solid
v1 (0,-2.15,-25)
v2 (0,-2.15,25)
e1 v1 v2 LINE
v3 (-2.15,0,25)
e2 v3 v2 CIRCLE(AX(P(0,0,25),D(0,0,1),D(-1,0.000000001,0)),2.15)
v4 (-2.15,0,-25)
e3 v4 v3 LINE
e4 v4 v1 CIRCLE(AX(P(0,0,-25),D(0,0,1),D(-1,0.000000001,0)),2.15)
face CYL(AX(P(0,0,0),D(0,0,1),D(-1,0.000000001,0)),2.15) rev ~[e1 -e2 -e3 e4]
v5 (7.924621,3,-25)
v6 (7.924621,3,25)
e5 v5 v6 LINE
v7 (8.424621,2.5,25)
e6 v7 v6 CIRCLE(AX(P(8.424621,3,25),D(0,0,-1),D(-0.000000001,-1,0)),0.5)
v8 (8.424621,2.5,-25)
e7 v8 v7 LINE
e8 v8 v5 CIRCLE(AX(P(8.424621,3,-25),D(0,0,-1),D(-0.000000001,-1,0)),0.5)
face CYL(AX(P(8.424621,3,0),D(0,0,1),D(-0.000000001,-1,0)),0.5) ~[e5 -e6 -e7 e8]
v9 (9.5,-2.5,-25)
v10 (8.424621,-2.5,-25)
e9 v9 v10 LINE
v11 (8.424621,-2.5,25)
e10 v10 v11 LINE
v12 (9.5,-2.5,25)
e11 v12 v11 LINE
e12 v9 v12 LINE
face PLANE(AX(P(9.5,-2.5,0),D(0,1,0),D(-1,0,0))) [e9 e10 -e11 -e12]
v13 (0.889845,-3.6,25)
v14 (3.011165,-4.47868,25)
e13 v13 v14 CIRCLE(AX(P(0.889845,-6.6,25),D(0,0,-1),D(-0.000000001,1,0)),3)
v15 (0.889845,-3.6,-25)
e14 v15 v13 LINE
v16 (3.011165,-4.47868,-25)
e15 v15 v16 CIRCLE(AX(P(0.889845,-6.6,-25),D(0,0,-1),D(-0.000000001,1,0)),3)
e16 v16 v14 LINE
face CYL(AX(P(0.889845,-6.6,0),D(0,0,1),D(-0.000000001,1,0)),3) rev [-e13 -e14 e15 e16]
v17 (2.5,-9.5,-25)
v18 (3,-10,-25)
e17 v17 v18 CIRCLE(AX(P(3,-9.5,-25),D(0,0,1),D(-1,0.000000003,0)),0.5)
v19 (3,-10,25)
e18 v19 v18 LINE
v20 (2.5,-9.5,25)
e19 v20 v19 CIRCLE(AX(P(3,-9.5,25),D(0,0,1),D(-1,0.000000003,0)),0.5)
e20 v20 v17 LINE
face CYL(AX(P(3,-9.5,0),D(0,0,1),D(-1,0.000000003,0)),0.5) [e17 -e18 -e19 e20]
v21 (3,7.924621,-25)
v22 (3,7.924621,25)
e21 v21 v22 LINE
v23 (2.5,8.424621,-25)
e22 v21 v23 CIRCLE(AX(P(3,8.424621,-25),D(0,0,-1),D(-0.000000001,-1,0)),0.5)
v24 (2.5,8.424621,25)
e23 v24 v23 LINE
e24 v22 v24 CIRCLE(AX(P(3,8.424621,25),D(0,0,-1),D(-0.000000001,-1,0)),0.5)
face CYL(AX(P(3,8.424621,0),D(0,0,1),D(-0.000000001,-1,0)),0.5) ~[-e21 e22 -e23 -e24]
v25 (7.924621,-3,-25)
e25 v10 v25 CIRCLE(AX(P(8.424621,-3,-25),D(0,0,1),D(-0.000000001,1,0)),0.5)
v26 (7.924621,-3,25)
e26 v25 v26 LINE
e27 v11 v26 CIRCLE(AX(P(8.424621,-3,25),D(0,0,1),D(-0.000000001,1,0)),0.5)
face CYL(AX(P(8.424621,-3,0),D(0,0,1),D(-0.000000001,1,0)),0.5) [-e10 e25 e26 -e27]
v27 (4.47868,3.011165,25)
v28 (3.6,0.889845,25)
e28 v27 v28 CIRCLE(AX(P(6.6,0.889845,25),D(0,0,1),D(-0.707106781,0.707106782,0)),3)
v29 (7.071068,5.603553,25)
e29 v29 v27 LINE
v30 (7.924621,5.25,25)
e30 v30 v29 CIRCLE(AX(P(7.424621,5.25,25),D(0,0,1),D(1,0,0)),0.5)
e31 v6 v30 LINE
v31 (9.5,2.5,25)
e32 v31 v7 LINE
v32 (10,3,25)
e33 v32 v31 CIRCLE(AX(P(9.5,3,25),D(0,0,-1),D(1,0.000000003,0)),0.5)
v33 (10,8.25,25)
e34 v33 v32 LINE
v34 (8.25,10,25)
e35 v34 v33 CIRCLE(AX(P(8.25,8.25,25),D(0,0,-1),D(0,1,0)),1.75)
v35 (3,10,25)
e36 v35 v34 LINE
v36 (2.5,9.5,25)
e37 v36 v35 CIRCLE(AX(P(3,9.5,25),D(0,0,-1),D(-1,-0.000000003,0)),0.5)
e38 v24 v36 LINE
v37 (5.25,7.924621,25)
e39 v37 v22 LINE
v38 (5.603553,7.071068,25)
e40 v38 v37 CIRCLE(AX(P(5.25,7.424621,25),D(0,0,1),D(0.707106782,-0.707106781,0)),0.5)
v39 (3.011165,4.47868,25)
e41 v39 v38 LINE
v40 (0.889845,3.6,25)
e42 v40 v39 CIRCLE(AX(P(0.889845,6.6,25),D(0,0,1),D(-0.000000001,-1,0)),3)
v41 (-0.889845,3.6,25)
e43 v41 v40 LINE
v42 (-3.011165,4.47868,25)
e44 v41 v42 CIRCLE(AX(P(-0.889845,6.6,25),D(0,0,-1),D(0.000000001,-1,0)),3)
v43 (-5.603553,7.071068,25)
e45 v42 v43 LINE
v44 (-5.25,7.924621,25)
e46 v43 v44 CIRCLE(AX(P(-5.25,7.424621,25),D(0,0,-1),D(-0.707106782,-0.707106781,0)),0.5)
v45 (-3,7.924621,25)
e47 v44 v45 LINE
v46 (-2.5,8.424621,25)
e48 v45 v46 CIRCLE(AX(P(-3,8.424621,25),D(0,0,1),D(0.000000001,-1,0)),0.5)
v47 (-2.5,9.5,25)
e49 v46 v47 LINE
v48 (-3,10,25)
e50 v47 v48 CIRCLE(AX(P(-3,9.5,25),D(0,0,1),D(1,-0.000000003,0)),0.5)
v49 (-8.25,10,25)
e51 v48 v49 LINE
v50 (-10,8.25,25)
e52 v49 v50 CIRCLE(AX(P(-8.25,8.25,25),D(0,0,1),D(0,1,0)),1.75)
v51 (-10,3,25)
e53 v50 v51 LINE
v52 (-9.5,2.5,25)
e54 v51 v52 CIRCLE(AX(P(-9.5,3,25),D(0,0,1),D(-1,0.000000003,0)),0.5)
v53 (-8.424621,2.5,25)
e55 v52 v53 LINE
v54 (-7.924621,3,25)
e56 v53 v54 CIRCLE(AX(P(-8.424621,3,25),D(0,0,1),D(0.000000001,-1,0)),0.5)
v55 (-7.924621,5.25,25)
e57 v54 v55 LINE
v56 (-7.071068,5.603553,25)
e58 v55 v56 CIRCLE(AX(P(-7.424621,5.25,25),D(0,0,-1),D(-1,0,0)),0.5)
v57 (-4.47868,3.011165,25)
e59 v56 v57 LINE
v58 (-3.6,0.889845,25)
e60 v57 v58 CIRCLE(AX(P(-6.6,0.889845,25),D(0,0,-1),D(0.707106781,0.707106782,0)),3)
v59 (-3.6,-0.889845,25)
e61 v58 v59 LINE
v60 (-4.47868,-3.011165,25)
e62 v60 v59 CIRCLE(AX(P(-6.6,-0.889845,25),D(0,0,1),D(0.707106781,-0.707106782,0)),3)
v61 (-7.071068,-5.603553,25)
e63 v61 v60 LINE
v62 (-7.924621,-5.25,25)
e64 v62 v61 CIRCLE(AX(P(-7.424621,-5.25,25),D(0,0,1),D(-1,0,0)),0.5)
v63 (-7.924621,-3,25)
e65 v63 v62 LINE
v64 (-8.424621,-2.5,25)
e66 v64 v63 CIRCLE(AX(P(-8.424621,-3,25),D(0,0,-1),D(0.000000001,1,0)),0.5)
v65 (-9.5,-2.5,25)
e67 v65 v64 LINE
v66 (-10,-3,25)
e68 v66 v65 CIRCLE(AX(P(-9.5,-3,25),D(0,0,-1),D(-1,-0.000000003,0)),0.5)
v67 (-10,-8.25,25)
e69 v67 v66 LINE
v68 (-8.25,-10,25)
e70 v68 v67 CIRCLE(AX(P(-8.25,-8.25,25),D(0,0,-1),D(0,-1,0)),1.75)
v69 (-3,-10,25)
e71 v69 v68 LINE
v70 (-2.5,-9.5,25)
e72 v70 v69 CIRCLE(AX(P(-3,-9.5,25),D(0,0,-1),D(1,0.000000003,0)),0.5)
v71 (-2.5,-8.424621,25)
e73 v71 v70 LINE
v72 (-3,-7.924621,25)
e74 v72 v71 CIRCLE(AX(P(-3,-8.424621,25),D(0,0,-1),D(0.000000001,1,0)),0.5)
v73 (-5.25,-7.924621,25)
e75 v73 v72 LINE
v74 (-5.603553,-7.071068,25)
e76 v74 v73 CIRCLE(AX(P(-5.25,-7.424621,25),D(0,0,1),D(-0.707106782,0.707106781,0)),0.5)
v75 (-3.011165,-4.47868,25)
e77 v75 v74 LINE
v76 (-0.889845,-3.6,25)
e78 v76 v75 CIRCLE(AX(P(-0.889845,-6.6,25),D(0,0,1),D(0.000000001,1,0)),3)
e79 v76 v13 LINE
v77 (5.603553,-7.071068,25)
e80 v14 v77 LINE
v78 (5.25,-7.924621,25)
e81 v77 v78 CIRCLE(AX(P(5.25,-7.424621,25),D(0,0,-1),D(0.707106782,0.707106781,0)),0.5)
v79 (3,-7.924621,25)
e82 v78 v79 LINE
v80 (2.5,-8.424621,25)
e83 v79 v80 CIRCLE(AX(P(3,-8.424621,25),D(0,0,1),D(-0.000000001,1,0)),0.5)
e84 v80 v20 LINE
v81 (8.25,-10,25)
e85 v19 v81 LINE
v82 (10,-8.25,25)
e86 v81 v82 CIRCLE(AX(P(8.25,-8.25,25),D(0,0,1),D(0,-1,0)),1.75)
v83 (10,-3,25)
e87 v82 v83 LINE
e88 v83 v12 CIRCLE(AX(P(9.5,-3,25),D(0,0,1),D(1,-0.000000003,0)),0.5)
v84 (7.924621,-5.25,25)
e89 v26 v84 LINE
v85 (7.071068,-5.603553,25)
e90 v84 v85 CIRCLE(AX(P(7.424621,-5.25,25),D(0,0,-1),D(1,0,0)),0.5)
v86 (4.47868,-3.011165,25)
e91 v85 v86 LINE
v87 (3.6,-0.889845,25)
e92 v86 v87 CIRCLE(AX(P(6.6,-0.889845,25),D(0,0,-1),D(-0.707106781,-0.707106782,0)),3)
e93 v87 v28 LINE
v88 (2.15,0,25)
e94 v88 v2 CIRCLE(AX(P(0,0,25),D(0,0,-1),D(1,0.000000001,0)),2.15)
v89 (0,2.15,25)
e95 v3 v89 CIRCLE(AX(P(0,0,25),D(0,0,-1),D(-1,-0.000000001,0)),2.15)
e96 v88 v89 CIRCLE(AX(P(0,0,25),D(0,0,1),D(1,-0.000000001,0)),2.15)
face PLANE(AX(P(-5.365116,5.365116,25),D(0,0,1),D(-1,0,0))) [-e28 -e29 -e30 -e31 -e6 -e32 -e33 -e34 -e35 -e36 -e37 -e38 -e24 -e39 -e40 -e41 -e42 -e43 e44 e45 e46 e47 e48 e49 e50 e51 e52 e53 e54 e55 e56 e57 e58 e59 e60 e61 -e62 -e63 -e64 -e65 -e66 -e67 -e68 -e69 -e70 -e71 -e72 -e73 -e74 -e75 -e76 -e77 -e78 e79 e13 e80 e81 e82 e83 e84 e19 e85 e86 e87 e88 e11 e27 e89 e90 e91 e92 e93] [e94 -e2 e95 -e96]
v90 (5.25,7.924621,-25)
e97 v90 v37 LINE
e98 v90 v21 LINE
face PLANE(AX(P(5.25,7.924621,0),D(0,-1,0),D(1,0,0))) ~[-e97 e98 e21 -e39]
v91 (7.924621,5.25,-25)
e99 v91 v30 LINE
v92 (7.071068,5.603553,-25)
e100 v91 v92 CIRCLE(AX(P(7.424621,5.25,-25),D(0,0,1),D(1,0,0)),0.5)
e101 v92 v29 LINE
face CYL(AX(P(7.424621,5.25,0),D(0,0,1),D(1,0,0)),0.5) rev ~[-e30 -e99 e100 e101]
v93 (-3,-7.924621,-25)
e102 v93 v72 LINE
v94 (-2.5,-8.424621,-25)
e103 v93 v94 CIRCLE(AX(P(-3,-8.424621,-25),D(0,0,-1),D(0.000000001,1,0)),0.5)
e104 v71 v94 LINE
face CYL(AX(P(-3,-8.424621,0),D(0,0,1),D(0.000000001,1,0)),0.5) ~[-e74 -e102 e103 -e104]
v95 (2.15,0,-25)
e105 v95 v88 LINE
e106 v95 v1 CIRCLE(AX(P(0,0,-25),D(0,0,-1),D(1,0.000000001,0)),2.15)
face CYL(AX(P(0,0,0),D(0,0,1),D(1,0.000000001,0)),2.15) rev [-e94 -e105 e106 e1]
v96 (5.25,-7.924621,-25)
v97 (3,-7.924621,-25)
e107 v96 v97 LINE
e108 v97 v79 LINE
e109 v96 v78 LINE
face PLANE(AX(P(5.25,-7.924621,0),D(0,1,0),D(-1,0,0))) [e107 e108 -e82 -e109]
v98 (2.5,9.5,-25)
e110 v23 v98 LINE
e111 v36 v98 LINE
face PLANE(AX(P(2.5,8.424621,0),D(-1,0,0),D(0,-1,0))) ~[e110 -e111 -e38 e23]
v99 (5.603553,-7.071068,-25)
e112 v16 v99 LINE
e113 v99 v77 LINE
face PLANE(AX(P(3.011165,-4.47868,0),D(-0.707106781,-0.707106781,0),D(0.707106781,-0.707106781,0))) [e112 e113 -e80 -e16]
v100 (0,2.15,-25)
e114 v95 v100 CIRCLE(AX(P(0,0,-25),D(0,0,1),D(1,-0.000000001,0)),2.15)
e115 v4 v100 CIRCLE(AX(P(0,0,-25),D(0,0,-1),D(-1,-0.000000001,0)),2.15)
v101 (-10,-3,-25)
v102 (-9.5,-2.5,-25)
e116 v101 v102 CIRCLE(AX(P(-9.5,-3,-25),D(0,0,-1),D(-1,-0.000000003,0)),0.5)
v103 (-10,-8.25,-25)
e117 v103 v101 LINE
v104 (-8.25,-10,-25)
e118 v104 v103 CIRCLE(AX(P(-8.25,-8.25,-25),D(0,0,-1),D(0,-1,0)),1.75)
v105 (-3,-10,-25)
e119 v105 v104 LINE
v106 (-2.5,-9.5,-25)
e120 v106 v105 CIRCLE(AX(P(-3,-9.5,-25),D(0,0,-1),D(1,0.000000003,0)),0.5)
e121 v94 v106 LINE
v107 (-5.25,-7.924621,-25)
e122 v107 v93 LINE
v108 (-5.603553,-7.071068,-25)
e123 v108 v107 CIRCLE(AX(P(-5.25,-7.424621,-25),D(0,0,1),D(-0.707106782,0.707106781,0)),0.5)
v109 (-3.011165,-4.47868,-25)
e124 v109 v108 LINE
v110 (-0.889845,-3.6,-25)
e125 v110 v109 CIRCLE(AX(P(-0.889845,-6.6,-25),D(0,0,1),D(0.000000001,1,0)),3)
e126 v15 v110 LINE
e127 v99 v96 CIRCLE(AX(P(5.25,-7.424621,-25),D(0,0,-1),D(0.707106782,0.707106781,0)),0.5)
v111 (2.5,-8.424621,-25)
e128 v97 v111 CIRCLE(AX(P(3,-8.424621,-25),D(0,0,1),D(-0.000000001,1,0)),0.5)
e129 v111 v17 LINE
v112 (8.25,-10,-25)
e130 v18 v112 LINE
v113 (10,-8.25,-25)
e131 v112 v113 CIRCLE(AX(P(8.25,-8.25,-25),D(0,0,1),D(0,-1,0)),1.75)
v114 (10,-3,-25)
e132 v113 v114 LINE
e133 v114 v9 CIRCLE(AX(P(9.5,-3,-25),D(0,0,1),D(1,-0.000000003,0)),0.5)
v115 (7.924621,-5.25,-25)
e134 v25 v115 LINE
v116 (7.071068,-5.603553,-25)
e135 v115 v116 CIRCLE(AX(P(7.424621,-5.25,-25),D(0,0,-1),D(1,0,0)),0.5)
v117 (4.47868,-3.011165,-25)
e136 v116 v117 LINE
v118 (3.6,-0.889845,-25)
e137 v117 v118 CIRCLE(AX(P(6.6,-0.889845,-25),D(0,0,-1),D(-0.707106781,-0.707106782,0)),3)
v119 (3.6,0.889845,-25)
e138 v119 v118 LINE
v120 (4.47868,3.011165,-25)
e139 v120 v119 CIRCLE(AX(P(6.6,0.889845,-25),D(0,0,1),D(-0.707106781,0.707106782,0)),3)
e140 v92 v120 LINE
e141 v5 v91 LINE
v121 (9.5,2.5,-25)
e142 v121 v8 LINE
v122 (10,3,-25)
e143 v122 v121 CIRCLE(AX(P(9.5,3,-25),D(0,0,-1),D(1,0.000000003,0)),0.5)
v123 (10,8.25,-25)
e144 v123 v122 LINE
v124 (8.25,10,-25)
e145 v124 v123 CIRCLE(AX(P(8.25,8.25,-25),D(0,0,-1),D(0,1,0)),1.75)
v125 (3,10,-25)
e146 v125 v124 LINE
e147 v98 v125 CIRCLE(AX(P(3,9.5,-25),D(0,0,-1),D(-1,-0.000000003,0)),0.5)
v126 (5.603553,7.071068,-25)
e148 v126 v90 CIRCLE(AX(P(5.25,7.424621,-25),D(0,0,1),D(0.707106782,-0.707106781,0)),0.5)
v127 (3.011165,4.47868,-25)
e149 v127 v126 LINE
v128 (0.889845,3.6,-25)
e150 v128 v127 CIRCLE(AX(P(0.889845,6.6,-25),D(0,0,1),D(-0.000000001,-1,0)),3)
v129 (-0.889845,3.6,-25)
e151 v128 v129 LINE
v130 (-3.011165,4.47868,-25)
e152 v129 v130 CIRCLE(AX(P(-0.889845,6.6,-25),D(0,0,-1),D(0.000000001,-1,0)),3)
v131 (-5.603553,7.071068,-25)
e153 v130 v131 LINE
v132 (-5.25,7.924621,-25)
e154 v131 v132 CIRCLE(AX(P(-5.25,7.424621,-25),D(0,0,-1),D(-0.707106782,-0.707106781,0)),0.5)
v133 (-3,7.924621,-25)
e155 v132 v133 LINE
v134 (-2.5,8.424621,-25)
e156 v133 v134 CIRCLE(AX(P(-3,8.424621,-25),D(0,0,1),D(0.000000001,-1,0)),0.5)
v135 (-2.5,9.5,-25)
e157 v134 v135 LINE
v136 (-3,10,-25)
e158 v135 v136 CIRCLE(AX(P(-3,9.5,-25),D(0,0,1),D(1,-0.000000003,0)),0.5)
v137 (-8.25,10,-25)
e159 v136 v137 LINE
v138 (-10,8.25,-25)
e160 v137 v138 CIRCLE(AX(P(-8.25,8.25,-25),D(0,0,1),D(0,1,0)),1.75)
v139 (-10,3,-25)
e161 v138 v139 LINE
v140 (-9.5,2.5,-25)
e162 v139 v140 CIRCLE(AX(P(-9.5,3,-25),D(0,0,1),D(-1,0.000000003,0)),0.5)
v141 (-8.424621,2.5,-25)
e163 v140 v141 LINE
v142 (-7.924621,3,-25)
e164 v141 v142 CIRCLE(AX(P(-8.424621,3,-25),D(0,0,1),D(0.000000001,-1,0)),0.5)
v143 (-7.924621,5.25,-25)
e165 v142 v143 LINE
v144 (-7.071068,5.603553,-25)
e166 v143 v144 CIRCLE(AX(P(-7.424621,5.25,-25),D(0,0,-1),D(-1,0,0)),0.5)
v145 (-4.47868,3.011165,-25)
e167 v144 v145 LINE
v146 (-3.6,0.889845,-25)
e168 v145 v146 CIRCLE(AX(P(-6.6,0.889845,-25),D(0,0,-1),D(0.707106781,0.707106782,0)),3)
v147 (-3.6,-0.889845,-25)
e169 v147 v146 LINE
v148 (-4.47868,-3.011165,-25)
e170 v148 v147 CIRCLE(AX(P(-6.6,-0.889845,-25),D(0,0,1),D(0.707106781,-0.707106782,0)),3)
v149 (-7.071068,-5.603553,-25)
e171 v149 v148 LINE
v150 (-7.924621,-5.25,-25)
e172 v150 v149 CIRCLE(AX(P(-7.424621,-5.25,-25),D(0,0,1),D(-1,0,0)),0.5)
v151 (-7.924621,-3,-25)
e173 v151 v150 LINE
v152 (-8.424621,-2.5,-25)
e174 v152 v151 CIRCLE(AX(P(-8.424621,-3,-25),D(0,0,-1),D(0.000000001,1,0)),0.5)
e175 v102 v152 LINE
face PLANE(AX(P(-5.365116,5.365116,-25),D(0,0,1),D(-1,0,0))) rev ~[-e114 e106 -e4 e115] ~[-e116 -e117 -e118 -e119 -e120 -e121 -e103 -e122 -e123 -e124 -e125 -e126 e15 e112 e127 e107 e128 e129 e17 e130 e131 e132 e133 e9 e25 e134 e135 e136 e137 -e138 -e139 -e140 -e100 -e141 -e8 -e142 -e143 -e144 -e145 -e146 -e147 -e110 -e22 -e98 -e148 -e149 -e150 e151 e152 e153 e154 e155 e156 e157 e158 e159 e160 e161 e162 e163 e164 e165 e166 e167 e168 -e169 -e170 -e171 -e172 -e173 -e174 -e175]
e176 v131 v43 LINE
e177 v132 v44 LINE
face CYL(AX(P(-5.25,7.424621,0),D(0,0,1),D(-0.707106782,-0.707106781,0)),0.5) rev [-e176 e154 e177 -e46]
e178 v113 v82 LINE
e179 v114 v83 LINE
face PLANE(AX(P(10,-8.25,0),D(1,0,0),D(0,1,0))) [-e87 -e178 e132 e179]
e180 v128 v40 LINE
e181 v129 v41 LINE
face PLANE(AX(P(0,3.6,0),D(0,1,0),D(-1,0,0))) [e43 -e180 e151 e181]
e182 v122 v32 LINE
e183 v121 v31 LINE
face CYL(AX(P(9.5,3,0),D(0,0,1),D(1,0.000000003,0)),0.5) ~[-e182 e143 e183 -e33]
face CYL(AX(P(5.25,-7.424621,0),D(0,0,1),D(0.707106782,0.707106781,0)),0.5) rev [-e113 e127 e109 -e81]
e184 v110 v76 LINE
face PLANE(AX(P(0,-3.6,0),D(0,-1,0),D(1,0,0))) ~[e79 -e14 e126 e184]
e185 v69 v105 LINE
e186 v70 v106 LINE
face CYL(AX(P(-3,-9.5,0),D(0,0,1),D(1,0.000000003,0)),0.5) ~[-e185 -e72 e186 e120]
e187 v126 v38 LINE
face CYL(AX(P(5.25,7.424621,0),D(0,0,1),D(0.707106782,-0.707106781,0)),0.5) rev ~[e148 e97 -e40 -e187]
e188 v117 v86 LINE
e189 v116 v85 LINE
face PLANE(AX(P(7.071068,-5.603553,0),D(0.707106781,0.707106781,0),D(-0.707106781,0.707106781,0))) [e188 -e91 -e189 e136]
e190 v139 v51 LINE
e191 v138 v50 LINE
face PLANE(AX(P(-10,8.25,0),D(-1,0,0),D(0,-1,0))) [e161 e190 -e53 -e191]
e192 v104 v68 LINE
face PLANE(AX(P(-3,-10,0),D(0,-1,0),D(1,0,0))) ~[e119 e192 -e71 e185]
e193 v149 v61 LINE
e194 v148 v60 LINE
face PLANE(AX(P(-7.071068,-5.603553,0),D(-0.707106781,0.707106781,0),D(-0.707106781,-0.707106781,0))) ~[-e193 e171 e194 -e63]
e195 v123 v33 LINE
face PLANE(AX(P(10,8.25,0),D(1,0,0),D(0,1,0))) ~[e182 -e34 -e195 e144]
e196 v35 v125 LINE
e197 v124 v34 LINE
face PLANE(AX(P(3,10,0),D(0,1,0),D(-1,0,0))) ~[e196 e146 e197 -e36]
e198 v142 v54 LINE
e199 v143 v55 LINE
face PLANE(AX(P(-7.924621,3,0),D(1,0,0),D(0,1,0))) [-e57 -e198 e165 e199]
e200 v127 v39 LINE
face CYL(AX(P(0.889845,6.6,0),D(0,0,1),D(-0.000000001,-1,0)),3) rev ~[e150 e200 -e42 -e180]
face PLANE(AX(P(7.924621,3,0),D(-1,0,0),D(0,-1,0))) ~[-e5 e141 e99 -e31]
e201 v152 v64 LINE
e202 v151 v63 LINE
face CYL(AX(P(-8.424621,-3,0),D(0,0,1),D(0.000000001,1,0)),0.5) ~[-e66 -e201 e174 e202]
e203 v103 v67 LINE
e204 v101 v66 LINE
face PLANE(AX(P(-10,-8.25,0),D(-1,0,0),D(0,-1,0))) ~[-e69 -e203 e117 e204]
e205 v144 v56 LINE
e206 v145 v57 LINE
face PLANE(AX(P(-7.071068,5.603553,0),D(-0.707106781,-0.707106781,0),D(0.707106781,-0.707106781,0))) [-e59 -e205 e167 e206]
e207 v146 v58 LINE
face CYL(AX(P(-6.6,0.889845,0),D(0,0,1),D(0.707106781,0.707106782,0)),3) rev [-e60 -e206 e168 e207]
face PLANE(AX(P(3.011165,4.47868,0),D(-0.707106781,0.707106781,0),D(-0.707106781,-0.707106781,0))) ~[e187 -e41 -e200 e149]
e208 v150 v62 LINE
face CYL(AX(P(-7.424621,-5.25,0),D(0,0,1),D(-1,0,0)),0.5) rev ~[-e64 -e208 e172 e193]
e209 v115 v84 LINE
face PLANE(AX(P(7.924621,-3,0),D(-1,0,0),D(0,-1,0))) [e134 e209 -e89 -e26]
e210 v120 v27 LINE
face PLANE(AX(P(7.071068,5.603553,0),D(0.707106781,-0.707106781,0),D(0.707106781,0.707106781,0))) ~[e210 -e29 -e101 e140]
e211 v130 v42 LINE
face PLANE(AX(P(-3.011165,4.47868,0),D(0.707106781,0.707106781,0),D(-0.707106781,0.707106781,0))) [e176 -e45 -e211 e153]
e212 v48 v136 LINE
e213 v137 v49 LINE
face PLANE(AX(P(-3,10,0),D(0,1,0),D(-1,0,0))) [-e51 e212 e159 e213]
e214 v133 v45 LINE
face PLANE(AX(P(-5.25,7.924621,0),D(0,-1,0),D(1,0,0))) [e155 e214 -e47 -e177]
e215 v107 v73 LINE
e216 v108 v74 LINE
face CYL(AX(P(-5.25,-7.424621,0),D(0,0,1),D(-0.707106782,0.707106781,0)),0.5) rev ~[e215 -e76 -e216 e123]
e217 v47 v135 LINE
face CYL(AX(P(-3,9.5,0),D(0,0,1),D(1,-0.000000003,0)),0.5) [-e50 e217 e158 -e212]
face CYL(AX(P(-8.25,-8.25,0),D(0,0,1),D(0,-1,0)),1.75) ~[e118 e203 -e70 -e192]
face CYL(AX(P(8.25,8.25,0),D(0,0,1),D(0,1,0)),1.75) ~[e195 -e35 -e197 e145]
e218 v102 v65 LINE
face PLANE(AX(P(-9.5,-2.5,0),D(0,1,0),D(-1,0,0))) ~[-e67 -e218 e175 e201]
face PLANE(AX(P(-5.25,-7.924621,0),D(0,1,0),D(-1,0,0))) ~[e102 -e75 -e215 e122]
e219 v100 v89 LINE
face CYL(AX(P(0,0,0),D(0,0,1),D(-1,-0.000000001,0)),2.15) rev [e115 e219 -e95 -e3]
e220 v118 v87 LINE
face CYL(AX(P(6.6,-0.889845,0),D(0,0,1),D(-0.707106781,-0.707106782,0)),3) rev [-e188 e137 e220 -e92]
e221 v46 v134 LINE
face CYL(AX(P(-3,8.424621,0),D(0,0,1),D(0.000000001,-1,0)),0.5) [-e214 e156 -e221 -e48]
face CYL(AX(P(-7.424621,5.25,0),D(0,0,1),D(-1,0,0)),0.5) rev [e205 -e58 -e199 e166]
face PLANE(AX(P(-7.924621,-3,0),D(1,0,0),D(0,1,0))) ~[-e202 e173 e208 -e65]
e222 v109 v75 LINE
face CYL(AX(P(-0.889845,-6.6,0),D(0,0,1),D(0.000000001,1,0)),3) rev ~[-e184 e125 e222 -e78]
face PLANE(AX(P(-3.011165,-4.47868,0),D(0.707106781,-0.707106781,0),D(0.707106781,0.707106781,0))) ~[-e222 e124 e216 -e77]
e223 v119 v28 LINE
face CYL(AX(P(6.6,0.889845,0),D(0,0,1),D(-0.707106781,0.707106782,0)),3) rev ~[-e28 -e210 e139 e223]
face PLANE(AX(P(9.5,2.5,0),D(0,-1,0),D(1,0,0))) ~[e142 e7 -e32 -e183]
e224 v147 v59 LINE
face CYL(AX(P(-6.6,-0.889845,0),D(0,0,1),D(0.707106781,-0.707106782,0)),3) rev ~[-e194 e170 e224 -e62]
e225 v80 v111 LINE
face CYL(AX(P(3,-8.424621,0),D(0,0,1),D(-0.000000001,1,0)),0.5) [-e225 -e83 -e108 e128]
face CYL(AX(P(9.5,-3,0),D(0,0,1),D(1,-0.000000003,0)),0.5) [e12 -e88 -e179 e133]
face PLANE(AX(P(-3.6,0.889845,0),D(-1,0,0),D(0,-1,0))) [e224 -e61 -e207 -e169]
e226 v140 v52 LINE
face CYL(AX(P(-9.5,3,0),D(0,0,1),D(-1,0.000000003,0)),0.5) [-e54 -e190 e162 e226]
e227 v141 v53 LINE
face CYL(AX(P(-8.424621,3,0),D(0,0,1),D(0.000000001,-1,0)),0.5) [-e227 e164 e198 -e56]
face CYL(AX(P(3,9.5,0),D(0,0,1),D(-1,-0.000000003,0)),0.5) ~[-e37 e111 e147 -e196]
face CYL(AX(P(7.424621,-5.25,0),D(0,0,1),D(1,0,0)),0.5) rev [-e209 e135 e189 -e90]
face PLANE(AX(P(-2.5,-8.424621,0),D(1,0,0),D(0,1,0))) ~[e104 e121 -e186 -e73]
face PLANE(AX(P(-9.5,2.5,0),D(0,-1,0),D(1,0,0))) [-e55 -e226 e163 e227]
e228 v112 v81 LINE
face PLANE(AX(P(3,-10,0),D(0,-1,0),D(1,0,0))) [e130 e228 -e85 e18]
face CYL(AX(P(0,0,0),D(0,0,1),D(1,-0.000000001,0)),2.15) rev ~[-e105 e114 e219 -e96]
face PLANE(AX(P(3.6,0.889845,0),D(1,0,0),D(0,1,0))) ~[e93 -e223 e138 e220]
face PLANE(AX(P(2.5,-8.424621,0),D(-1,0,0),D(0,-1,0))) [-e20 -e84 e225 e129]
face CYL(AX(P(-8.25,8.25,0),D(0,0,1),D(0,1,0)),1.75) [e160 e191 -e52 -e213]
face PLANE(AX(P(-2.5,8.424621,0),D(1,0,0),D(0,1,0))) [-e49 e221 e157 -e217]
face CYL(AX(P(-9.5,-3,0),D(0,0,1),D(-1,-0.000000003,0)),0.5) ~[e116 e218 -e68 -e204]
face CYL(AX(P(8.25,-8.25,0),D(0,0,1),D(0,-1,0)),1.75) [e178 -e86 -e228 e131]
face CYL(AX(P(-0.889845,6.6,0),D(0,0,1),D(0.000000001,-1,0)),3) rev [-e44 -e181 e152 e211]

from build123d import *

# Parameters (mm, degrees)
BOSS_EXTRUDE1_DEPTH = 25


with BuildPart() as part:
    # Sketch4 → Boss-Extrude1 (new, symmetric)
    with BuildSketch(Plane.XY):
        with BuildLine():
            Line((3, -10), (8.25, -10))
            ThreePointArc((8.25, -10), (9.487436867, -9.487436867), (10, -8.25))
            Line((10, -8.25), (10, -3))
            ThreePointArc((10, -3), (9.853553391, -2.646446609), (9.5, -2.5))
            Line((9.5, -2.5), (8.424621202, -2.5))
            ThreePointArc((8.424621202, -2.5), (8.071067812, -2.646446609), (7.924621202, -3))
            Line((7.924621202, -3), (7.924621202, -5.25))
            ThreePointArc((7.924621202, -5.25), (7.615962919, -5.711939766), (7.071067812, -5.603553391))
            Line((7.071067812, -5.603553391), (4.478679656, -3.011165235))
            ThreePointArc((4.478679656, -3.011165235), (3.828361402, -2.037895189), (3.6, -0.889844892))
            Line((3.6, -0.889844892), (3.6, 0))
            Line((3.6, 0), (2.15, 0))
            ThreePointArc((2.15, 0), (1.52027958, -1.52027958), (0, -2.15))
            Line((0, -2.15), (0, -3.6))
            Line((0, -3.6), (0.889844892, -3.6))
            ThreePointArc((0.889844892, -3.6), (2.037895189, -3.828361402), (3.011165235, -4.478679656))
            Line((3.011165235, -4.478679656), (5.603553391, -7.071067812))
            ThreePointArc((5.603553391, -7.071067812), (5.711939766, -7.615962919), (5.25, -7.924621202))
            Line((5.25, -7.924621202), (3, -7.924621202))
            ThreePointArc((3, -7.924621202), (2.646446609, -8.071067812), (2.5, -8.424621202))
            Line((2.5, -8.424621202), (2.5, -9.5))
            ThreePointArc((2.5, -9.5), (2.646446609, -9.853553391), (3, -10))
        make_face()
    extrude(amount=BOSS_EXTRUDE1_DEPTH, both=True)

    # Mirror1: part across plane


with BuildPart() as part_1:
    add(part.part)
    add(part.part.mirror(Plane(origin=(0, 0, 0), x_dir=(0, 0, 1), z_dir=(1, 0, 0))))

    # Mirror2: part across plane


with BuildPart() as part_2:
    add(part_1.part)
    add(part_1.part.mirror(Plane.ZX))


solid = part_2.part
